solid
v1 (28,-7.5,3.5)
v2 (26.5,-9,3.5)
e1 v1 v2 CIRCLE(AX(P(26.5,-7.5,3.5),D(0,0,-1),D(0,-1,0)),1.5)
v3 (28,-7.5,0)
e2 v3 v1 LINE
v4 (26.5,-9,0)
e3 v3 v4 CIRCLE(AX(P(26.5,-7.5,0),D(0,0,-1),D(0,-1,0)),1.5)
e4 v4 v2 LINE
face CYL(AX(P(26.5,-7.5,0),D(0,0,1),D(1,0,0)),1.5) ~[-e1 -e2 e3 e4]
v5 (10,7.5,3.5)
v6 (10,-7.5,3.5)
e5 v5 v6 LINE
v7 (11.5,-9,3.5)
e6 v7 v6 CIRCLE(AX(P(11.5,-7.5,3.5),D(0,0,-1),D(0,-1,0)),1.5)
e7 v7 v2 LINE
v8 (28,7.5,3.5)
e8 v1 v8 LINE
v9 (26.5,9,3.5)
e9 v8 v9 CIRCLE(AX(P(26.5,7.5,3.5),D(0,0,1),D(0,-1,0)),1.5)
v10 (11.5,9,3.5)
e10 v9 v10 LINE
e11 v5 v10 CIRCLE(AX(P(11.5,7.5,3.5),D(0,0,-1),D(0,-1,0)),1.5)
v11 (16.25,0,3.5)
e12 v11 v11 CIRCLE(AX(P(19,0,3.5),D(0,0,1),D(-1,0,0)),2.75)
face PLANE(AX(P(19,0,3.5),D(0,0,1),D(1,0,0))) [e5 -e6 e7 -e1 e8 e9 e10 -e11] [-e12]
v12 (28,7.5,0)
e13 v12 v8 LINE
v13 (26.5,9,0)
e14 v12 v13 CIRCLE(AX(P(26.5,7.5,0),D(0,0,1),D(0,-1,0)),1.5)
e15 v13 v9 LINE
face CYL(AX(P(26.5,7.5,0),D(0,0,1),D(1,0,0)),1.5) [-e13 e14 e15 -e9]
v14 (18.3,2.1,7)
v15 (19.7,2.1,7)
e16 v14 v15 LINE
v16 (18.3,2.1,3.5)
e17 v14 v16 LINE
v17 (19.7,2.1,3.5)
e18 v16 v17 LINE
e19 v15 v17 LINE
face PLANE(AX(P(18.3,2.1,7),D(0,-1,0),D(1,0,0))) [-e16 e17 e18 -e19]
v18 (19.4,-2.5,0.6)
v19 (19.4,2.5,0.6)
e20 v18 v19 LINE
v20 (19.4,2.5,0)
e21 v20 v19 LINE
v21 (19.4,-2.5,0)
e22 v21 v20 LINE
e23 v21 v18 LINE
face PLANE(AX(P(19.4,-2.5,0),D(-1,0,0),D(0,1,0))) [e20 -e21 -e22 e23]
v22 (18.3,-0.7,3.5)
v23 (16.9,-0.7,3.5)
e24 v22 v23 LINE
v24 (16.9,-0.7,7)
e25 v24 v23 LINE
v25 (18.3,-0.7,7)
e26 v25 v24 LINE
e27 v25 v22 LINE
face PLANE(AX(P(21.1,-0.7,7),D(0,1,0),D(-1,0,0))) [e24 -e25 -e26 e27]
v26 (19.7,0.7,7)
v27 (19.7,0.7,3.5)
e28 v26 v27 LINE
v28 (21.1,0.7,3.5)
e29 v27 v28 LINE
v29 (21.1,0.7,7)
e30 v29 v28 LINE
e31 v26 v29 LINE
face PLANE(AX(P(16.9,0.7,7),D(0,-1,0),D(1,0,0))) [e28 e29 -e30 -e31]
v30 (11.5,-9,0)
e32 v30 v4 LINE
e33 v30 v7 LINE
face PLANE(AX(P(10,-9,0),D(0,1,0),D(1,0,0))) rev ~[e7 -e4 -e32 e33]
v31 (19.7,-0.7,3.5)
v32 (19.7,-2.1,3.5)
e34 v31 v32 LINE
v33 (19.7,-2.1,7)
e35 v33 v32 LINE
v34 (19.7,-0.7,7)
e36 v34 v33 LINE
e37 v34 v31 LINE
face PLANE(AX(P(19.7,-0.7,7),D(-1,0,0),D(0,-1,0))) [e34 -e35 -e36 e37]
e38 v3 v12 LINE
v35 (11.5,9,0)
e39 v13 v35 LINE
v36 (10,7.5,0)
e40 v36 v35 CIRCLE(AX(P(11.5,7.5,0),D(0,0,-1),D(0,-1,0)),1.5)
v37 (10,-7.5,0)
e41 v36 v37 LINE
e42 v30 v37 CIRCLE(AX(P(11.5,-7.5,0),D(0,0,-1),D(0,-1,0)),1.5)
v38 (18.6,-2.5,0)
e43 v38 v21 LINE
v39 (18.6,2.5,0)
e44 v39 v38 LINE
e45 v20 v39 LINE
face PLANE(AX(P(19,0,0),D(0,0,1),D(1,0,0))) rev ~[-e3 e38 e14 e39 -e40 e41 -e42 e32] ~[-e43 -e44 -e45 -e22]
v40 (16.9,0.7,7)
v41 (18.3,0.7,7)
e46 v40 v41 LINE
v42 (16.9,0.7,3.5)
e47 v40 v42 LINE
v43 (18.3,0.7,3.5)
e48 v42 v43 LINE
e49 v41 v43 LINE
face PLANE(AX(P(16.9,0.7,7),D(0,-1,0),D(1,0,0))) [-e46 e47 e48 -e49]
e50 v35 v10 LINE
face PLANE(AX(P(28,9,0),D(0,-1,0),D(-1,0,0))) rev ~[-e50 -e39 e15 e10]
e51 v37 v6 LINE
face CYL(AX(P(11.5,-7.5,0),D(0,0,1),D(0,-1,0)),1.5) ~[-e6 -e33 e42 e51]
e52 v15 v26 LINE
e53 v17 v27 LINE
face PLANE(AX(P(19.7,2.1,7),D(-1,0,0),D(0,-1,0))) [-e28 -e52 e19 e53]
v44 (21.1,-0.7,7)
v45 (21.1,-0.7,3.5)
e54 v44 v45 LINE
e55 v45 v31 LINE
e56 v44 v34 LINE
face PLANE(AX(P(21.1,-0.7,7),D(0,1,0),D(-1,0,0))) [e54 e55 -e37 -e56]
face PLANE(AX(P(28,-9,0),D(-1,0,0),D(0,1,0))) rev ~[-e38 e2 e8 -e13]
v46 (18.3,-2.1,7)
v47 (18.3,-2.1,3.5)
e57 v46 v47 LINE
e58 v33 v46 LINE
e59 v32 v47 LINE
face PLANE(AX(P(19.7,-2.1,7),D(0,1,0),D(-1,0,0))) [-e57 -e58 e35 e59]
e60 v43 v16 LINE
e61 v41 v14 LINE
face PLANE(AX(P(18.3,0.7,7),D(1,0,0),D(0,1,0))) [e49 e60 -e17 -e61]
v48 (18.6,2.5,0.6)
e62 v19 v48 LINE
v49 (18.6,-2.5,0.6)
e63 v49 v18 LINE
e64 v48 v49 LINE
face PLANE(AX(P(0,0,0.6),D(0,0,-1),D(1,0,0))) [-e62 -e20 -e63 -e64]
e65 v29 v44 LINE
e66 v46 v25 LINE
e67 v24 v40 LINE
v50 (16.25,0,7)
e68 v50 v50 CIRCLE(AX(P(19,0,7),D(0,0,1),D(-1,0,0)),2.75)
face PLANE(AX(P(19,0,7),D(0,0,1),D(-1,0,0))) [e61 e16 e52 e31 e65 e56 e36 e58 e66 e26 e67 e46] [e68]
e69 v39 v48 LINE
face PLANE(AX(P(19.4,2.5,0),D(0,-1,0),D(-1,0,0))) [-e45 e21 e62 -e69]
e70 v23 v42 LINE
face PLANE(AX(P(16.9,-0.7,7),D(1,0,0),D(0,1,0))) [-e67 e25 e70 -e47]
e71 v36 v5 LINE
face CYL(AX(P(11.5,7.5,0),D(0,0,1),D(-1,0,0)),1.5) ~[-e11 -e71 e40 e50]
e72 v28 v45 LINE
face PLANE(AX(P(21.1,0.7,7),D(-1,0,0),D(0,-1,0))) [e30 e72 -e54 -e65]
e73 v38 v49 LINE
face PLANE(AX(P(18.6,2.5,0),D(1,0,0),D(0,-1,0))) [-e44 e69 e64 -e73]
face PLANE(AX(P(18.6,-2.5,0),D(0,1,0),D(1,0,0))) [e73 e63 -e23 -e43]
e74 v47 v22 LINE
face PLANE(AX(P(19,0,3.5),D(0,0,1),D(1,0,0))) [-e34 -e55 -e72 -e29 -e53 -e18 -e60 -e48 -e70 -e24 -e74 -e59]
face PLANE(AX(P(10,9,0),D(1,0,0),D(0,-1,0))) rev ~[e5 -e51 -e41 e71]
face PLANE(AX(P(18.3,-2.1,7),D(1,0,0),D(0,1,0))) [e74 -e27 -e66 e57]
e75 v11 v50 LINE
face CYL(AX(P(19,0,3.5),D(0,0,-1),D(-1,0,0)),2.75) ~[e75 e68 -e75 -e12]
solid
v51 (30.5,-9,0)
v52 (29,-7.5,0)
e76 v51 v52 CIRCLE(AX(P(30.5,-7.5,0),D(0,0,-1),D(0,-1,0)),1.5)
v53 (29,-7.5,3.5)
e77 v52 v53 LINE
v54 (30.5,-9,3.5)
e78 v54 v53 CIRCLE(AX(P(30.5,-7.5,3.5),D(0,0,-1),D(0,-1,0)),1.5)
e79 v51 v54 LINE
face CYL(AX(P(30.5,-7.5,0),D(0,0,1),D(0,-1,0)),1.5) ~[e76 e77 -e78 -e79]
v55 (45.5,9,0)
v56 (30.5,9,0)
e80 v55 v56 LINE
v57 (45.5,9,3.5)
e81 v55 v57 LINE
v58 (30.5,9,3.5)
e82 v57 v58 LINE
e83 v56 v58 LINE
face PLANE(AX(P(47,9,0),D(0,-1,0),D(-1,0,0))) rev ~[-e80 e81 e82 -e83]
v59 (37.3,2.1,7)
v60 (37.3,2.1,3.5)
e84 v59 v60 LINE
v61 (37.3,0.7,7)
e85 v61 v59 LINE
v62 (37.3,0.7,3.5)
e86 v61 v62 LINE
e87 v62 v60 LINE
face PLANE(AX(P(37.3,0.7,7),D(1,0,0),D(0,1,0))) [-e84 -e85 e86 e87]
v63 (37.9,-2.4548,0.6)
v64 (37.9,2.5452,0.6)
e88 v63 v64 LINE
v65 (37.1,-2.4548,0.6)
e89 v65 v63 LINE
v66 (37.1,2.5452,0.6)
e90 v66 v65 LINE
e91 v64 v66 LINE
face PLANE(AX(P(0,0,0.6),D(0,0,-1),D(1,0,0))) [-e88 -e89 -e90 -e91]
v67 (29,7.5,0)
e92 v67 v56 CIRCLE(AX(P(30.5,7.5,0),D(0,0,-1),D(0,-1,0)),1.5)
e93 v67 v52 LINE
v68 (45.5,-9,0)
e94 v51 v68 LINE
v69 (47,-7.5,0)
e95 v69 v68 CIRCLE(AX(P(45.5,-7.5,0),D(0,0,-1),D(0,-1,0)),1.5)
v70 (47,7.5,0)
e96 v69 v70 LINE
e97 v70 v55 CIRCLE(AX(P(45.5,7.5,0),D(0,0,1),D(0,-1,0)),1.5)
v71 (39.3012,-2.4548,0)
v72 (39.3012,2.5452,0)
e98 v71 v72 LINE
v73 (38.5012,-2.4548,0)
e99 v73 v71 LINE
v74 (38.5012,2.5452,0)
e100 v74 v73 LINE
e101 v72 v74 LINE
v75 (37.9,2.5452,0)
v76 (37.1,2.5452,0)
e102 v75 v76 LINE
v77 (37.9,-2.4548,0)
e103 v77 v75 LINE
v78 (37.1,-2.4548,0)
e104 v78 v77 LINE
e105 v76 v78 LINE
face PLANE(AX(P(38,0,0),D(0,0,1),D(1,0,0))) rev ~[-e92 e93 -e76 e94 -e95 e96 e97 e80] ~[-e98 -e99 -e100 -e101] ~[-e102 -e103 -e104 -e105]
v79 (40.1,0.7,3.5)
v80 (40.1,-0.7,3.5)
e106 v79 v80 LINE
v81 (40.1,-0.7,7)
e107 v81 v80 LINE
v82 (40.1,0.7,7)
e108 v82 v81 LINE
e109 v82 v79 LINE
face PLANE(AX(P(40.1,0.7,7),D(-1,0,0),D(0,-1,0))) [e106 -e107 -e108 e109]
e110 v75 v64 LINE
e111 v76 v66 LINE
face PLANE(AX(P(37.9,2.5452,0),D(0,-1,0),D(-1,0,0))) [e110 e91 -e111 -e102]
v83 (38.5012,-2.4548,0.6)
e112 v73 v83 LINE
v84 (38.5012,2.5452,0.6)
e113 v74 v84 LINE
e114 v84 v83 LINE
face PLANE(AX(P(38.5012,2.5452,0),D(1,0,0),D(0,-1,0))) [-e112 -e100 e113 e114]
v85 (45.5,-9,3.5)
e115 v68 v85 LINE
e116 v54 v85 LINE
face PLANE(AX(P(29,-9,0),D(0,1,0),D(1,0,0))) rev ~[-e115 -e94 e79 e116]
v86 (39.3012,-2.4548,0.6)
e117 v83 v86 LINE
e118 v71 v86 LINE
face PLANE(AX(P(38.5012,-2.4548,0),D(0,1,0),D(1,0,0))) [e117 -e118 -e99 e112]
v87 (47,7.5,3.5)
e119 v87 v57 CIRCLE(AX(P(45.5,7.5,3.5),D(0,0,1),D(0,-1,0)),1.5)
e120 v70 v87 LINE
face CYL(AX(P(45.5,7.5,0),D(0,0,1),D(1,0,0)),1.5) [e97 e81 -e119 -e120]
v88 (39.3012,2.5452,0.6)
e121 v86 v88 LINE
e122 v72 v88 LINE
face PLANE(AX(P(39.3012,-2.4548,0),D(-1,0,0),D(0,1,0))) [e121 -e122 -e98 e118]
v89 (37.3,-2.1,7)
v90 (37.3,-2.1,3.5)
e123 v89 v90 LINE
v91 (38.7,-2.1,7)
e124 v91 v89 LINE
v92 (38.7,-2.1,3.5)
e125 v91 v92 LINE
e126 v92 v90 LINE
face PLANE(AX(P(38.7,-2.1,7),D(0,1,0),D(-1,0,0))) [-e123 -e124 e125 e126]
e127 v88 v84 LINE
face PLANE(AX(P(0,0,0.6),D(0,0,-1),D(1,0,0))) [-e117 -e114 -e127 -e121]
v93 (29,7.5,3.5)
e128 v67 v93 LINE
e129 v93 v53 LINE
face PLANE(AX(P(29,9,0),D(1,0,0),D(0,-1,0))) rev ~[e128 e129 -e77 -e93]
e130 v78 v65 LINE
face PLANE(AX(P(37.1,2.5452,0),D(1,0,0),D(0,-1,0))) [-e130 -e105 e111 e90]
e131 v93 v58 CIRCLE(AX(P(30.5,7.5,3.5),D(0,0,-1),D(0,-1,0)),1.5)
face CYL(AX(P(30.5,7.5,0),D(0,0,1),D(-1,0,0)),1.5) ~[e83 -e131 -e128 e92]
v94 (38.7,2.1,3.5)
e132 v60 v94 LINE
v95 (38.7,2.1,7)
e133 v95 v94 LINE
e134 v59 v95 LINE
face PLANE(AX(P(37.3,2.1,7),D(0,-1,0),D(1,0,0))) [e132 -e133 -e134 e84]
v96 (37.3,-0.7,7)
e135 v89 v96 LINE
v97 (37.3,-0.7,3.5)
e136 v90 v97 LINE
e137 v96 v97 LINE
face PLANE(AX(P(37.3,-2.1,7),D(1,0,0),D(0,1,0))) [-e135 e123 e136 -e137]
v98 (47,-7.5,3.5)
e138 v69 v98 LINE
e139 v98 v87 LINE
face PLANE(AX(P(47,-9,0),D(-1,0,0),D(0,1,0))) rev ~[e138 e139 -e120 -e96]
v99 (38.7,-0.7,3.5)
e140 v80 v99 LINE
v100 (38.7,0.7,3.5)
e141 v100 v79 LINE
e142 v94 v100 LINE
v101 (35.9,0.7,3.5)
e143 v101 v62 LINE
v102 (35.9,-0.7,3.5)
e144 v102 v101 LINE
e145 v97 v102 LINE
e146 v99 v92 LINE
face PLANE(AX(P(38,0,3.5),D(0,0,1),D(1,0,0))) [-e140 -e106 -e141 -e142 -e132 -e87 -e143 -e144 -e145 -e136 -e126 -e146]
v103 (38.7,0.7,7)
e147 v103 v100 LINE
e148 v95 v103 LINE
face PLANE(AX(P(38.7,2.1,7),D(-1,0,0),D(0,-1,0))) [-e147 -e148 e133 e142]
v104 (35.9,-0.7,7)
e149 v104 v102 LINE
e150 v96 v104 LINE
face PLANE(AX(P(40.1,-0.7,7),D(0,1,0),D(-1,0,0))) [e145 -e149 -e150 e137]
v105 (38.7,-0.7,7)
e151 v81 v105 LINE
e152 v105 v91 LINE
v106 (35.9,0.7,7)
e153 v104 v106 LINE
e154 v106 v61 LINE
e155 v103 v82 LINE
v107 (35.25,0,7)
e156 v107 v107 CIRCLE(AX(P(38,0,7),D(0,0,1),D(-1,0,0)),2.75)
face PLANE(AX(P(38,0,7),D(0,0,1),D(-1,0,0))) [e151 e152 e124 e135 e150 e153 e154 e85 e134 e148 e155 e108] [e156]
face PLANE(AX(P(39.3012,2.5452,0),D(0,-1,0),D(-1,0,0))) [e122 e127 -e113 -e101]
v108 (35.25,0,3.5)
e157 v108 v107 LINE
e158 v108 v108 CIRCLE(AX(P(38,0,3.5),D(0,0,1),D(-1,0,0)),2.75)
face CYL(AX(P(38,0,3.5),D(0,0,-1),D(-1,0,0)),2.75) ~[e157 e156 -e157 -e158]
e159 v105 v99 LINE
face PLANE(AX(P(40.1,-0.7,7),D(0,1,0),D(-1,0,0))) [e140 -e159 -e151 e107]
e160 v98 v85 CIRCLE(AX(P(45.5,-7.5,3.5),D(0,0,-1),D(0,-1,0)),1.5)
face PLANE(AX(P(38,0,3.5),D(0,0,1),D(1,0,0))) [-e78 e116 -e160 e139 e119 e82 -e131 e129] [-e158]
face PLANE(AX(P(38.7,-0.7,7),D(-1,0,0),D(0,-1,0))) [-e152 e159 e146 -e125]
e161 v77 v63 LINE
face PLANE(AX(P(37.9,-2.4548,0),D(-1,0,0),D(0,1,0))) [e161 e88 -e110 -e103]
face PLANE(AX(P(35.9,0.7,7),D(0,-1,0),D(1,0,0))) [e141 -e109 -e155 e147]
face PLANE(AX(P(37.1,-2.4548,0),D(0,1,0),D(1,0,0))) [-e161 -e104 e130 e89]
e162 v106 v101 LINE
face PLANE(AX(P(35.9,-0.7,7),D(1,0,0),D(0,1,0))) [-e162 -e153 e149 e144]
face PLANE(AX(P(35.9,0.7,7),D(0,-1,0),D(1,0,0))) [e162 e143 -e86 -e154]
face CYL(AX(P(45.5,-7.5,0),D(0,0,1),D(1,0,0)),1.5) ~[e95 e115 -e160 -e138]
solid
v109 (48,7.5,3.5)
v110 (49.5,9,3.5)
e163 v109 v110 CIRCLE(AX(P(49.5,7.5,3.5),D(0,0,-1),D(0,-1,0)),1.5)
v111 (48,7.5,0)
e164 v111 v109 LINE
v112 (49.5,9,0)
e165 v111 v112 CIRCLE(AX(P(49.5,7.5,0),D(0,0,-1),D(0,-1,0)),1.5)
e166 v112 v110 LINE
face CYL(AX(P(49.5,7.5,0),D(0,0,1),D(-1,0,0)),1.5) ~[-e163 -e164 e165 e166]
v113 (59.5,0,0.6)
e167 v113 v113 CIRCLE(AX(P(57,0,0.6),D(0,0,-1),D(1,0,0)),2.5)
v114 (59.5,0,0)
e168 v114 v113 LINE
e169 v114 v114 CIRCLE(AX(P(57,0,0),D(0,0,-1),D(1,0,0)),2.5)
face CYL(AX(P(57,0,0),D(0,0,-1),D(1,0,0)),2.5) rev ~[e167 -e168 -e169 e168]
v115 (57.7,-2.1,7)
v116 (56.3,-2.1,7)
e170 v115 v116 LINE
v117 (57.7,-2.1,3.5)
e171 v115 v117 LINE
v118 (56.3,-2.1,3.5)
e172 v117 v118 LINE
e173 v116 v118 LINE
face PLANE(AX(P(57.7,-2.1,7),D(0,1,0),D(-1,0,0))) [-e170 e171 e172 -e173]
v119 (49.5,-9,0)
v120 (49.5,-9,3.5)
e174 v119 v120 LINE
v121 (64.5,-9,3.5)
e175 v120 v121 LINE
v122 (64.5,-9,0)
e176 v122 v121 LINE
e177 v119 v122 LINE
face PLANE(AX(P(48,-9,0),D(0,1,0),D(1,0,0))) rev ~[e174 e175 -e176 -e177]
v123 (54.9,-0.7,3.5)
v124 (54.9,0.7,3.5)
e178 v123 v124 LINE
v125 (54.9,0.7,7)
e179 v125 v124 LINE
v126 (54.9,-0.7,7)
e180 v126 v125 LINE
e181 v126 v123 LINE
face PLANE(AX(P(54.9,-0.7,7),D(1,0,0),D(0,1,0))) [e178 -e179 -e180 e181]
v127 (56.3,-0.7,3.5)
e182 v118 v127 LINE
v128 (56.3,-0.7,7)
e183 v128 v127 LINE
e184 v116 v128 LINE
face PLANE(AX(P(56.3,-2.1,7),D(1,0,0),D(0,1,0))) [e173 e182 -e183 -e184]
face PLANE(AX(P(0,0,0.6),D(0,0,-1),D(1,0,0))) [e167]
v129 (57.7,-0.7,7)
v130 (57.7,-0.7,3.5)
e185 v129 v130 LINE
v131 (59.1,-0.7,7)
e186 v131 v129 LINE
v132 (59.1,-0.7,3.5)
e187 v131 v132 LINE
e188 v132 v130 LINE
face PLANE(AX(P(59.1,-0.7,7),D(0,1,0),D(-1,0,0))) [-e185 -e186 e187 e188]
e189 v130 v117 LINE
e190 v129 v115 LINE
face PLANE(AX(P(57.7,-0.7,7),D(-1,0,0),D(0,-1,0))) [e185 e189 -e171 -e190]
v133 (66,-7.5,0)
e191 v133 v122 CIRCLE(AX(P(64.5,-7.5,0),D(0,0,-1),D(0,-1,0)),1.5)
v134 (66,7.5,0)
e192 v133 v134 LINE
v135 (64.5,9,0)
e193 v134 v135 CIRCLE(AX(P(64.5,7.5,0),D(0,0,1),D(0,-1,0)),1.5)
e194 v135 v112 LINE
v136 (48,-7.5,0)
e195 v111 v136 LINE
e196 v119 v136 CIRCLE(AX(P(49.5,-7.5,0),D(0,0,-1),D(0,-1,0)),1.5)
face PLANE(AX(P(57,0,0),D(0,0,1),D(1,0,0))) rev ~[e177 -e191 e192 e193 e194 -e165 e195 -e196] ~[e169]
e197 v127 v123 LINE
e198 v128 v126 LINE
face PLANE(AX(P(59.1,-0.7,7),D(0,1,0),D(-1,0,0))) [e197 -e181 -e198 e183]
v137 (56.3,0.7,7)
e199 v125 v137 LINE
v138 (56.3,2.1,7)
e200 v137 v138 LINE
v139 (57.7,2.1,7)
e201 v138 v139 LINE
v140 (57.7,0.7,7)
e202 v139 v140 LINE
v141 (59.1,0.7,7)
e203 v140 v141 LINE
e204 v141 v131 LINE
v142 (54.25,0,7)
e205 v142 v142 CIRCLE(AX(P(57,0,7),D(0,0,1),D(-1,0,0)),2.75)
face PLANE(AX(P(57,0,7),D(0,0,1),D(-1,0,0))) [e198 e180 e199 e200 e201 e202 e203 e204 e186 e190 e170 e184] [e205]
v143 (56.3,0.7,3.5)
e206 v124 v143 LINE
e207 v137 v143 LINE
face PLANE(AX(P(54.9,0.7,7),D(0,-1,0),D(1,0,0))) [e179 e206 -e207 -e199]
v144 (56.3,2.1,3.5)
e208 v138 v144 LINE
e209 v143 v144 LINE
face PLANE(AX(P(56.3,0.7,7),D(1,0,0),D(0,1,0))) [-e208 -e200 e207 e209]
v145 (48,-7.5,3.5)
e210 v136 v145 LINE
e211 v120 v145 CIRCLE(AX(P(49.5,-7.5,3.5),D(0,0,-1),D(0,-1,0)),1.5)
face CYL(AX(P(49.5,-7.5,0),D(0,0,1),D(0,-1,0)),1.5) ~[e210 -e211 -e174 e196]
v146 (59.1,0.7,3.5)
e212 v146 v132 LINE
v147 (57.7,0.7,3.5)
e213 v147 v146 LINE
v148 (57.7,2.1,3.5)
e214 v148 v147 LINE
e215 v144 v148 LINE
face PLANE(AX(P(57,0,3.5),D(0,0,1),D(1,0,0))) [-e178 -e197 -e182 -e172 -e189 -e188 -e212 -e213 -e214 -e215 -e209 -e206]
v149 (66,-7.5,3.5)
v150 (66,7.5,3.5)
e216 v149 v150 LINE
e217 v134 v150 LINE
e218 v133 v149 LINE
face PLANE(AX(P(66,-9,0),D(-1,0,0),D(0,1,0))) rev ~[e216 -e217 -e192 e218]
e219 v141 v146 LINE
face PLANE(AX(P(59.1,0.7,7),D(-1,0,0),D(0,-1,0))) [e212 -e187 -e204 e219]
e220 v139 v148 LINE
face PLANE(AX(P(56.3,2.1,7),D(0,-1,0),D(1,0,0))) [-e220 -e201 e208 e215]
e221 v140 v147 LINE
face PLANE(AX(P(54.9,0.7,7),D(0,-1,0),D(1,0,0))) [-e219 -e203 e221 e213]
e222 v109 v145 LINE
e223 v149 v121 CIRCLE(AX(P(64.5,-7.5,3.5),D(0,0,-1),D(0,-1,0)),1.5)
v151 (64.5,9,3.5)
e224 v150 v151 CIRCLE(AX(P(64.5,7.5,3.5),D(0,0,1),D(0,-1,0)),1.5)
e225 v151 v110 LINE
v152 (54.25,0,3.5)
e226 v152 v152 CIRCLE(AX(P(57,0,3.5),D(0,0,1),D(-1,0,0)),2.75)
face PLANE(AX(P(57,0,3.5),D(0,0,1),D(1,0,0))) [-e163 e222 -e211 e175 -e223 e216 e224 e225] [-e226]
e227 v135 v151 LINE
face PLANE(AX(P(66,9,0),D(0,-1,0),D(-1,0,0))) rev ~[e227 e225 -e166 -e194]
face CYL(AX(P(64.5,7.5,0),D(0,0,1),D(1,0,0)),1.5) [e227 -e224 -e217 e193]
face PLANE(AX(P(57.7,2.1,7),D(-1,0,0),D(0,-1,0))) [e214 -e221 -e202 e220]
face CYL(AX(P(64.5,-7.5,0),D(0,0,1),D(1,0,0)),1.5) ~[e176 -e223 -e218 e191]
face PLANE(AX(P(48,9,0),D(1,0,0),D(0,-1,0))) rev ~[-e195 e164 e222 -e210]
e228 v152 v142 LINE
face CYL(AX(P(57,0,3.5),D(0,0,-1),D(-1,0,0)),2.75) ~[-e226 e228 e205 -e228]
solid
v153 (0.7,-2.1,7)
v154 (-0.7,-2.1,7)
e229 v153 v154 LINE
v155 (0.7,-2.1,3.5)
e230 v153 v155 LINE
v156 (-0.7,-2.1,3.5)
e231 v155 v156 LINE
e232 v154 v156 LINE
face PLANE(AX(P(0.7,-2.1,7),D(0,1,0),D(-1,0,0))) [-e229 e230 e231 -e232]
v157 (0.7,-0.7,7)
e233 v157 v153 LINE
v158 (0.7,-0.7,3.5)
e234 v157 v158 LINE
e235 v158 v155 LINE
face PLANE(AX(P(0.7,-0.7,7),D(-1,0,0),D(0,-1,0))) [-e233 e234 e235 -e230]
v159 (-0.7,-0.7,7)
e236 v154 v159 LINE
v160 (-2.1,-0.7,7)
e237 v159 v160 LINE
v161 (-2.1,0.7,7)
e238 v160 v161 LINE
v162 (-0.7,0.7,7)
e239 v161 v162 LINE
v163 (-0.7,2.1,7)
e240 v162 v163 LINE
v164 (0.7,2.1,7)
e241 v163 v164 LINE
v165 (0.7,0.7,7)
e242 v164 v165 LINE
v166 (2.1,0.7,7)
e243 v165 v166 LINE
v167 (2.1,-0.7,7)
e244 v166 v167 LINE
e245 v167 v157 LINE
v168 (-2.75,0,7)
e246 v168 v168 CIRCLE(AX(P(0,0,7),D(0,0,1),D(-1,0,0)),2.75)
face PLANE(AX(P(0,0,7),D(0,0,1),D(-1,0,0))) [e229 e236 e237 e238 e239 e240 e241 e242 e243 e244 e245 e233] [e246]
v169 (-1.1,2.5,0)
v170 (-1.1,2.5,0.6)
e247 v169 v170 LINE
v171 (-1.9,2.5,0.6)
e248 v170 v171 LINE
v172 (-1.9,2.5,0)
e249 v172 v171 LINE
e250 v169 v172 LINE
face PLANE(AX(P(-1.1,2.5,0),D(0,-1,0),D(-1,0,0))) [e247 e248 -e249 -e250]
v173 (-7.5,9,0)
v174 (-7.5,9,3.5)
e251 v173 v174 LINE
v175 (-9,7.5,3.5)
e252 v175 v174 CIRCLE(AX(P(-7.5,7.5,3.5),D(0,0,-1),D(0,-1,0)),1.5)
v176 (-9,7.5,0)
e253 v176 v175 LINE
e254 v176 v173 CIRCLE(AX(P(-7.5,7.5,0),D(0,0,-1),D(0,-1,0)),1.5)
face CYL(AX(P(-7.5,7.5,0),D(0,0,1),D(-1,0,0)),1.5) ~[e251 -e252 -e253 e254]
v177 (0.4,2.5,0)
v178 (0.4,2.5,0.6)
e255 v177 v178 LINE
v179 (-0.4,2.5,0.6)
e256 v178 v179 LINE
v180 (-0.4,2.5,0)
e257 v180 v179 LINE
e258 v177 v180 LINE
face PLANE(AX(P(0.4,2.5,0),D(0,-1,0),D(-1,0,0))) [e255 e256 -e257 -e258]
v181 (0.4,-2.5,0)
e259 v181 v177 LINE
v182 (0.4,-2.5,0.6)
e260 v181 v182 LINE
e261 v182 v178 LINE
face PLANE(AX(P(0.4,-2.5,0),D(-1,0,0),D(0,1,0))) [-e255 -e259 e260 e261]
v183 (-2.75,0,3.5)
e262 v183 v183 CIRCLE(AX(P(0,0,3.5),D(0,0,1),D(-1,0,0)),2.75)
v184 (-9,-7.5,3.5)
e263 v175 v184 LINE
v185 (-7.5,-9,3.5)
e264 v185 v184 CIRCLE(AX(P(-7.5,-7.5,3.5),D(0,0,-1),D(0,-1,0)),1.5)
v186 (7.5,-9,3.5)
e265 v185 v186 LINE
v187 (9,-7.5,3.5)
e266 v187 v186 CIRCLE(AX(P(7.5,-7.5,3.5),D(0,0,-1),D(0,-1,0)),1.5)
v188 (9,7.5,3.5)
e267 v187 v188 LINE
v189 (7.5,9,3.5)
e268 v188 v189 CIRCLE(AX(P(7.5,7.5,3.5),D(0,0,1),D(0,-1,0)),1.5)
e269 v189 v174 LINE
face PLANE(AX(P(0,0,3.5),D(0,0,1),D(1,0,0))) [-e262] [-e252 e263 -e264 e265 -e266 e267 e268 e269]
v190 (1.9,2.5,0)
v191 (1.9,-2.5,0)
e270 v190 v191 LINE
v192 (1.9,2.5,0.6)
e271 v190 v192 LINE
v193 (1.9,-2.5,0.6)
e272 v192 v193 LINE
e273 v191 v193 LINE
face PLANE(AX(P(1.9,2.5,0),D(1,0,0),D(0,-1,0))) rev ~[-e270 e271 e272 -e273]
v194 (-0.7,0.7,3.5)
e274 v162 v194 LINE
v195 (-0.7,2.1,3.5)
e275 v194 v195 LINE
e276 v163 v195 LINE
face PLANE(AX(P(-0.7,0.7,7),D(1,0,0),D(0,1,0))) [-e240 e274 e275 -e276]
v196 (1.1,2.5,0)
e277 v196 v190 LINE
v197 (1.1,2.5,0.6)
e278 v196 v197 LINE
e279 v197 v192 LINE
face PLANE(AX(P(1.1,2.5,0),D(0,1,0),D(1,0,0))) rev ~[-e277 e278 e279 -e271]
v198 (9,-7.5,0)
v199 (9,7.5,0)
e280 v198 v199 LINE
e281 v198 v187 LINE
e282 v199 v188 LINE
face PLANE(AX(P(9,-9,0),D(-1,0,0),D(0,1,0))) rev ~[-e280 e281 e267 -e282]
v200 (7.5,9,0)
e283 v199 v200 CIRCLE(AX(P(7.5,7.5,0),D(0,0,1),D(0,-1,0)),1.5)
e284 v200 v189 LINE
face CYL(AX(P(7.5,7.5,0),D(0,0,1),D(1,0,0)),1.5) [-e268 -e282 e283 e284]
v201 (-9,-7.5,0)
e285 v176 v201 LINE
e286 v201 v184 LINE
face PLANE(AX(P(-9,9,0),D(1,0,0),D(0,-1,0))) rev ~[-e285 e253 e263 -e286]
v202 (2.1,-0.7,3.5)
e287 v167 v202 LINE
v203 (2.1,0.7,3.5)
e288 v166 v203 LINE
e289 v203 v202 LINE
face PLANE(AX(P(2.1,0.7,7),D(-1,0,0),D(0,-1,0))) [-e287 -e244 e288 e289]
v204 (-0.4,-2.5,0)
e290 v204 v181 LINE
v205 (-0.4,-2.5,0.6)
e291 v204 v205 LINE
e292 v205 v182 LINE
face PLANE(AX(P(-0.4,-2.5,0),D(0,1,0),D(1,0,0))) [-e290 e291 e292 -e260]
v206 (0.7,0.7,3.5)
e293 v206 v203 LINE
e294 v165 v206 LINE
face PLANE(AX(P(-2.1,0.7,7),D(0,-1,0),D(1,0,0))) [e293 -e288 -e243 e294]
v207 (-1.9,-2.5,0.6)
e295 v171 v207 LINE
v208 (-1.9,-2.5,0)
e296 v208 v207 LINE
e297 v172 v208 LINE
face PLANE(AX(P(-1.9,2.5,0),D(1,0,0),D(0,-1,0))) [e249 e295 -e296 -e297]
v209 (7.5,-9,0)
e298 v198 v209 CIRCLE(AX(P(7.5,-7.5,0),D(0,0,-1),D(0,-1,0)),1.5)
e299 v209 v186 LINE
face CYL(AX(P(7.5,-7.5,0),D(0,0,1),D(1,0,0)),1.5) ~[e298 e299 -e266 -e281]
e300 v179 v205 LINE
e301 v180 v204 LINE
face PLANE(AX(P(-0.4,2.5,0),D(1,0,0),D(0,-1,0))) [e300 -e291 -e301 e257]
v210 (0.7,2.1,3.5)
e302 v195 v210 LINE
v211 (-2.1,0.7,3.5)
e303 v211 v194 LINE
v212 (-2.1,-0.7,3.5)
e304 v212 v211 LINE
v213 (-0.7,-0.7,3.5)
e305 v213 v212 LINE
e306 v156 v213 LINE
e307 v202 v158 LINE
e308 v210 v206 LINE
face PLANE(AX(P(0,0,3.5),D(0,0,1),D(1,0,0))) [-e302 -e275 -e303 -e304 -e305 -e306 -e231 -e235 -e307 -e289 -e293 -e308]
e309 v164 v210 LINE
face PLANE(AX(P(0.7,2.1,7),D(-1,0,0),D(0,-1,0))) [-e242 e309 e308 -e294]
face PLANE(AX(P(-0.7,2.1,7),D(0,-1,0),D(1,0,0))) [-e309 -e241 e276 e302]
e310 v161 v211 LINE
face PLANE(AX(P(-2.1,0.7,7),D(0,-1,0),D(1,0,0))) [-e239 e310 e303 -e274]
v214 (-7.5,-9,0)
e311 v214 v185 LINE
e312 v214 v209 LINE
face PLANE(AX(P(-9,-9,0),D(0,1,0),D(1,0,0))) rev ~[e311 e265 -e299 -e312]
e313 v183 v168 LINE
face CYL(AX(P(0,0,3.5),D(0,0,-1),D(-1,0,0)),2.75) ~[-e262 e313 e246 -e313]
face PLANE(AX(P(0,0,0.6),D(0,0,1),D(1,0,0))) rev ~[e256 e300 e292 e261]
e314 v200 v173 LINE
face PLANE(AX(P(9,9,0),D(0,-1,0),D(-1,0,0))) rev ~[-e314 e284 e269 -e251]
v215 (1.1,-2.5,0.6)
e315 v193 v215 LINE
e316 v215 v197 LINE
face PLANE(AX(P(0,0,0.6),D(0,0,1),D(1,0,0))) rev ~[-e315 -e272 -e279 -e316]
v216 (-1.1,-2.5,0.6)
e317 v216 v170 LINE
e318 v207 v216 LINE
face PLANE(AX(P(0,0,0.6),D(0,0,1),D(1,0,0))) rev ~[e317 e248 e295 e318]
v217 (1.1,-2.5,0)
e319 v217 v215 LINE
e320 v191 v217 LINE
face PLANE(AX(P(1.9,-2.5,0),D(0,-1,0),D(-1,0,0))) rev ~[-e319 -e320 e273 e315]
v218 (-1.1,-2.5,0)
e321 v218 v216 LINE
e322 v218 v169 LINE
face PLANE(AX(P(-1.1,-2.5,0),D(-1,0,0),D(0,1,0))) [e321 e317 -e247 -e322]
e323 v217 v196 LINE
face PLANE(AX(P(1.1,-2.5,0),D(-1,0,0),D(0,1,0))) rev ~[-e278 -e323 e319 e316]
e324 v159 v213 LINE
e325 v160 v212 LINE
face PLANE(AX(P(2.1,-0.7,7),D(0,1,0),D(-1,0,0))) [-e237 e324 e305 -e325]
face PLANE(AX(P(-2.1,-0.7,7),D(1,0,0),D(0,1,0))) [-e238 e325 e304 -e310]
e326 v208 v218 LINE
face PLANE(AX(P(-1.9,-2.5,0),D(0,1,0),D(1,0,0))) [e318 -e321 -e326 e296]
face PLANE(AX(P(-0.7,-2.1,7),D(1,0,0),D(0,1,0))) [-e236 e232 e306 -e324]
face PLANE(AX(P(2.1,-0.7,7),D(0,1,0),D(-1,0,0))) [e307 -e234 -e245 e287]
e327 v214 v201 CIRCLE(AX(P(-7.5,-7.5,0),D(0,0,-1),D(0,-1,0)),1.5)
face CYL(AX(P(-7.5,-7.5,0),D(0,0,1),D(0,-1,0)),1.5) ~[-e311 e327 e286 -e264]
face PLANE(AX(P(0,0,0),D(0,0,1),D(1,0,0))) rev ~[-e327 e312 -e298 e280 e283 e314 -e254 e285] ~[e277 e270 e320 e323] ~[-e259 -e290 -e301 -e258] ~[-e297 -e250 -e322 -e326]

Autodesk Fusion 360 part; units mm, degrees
sketch "Esquisse14" plane through (0, 0, 0) normal (0, 0, 1) x (1, 0, 0)
  line L0 (9, 9) -> (-9, 9)
  line L1 (-9, 9) -> (-9, -9)
  line L2 (-9, -9) -> (9, -9)
  line L3 (9, -9) -> (9, 9)
  line L4 (9, 9) -> (-9, -9) construction
  line L5 (-9, 9) -> (9, -9) construction
  dimension "d78" = 18
  dimension "d79" = 18
extrude "Extrusion14" add sketch "Esquisse14" along normal blind 3.5 makes body 1
fillet "Congé9" radius 1.5 4 edges at (-9, -9, 1.75) (9, -9, 1.75) (9, 9, 1.75) (-9, 9, 1.75) on bodies 1
sketch "Esquisse15" plane through (0, 0, 3.5) normal (0, 0, 1) x (-1, 0, 0)
  arc A0 (7.5, -9) -> (9, -7.5) centre (7.5, -7.5) ccw
  line L0 (9, -7.5) -> (9, 7.5)
  arc A1 (9, 7.5) -> (7.5, 9) centre (7.5, 7.5) ccw
  line L1 (7.5, 9) -> (-7.5, 9)
  arc A2 (-7.5, 9) -> (-9, 7.5) centre (-7.5, 7.5) ccw
  line L2 (-9, 7.5) -> (-9, -7.5)
  arc A3 (-9, -7.5) -> (-7.5, -9) centre (-7.5, -7.5) ccw
  line L3 (-7.5, -9) -> (7.5, -9)
  circle A4 centre (0, 0) radius 2.75
  dimension "d84" = 5.5
extrude "Extrusion15" add sketch "Esquisse15" along normal blind 3.5 separate body contours A4 makes body 2
sketch "Esquisse16" plane through (0, 0, 7) normal (0, 0, 1) x (-1, 0, 0)
  circle A0 centre (0, 0) radius 2.75
  line L0 (2.1, -0.7) -> (-2.1, -0.7)
  line L1 (-2.1, -0.7) -> (-2.1, 0.7)
  line L2 (-2.1, 0.7) -> (2.1, 0.7)
  line L3 (2.1, 0.7) -> (2.1, -0.7)
  line L4 (2.1, -0.7) -> (-2.1, 0.7) construction
  line L5 (-2.1, -0.7) -> (2.1, 0.7) construction
  dimension "d87" = 4.2
  dimension "d88" = 1.4
extrude "Extrusion16" cut sketch "Esquisse16" against normal blind 3.5 contours L0 L1 L2 L3 bodies 2
sketch "Esquisse17" plane through (0, 0, 7) normal (0, 0, 1) x (-1, 0, 0)
  line L0 (-2.1, -0.7) -> (-2.1, 0.7)
  line L1 (-2.1, 0.7) -> (2.1, 0.7)
  line L2 (2.1, 0.7) -> (2.1, -0.7)
  line L3 (2.1, -0.7) -> (-2.1, -0.7)
  circle A0 centre (0, 0) radius 2.75
  line L4 (0.7, -2.1) -> (-0.7, -2.1)
  line L5 (-0.7, -2.1) -> (-0.7, 2.1)
  line L6 (-0.7, 2.1) -> (0.7, 2.1)
  line L7 (0.7, 2.1) -> (0.7, -2.1)
  line L8 (0.7, -2.1) -> (-0.7, 2.1) construction
  line L9 (-0.7, -2.1) -> (0.7, 2.1) construction
  dimension "d91" = 1.4
  dimension "d92" = 4.2
extrude "Extrusion17" cut sketch "Esquisse17" against normal blind 3.5 contours L3 L4 L5 L7 | L1 L5 L6 L7 bodies 2
sketch "Esquisse18" plane through (0, 0, 0) normal (0, 0, 1) x (1, 0, 0)
  line L0 (-0.4, -2.5) -> (0.4, -2.5)
  line L1 (0.4, -2.5) -> (0.4, 2.5)
  line L2 (0.4, 2.5) -> (-0.4, 2.5)
  line L3 (-0.4, 2.5) -> (-0.4, -2.5)
  line L4 (-0.4, -2.5) -> (0.4, 2.5) construction
  line L5 (0.4, -2.5) -> (-0.4, 2.5) construction
  dimension "d95" = 0.8
  dimension "d96" = 5
combine "Combiner1" operation add target body 1 tool bodies 2
pattern_linear "Réseau R1" count 4 spacing 19 along (1, 0, 0) of bodies 1 makes body 3 at (16, 2.5, 0) makes body 4 at (35.5, -2, 0) makes body 5 at (60, -2.5, 0)
extrude "Extrusion18" cut sketch "Esquisse18" along normal blind 0.6 bodies 1
sketch "Esquisse19" plane through (0, 0, 0) normal (0, 0, 1) x (1, 0, 0)
  line L0 (-0.4, 2.5) -> (0.4, 2.5)
  line L1 (0.4, 2.5) -> (0.4, -2.5)
  line L2 (0.4, -2.5) -> (-0.4, -2.5)
  line L3 (-0.4, -2.5) -> (-0.4, 2.5)
  line L4 (-0.4, 2.5) -> (0.4, -2.5) construction
  line L5 (0.4, 2.5) -> (-0.4, -2.5) construction
  line L6 (1.1, 2.5) -> (1.9, 2.5)
  line L7 (1.9, 2.5) -> (1.9, -2.5)
  line L8 (1.9, -2.5) -> (1.1, -2.5)
  line L9 (1.1, -2.5) -> (1.1, 2.5)
  line L10 (1.1, 2.5) -> (1.9, -2.5) construction
  line L11 (1.9, 2.5) -> (1.1, -2.5) construction
  point P0 (1.5, 0)
  dimension "d99" = 0.8
  dimension "d100" = 5
  dimension "d101" = 0.8
  dimension "d102" = 5
  dimension "d103" = 1.5
extrude "Extrusion19" cut sketch "Esquisse19" along normal blind 0.6 contours L6 L7 L8 L9 bodies 1
sketch "Esquisse20" plane through (0, 0, 0) normal (0, 0, 1) x (1, 0, 0)
  line L0 (-1.9, -2.5) -> (-1.1, -2.5)
  line L1 (-1.1, -2.5) -> (-1.1, 2.5)
  line L2 (-1.1, 2.5) -> (-1.9, 2.5)
  line L3 (-1.9, 2.5) -> (-1.9, -2.5)
  line L4 (-1.9, -2.5) -> (-1.1, 2.5) construction
  line L5 (-1.1, -2.5) -> (-1.9, 2.5) construction
  point P0 (-1.5, 0)
  dimension "d106" = 5
  dimension "d107" = 0.8
  dimension "d108" = 1.5
extrude "Extrusion20" cut sketch "Esquisse20" along normal blind 0.6 bodies 1
sketch "Esquisse13" plane through (0, 0, 6.5) normal (0, 0, 1) x (-1, 0, 0)
  line L0 (2.1, 0.7) -> (2.1, -0.7)
  line L1 (2.1, -0.7) -> (-2.1, -0.7)
  line L2 (-2.1, -0.7) -> (-2.1, 0.7)
  line L3 (-2.1, 0.7) -> (2.1, 0.7)
  circle A0 centre (0, 0) radius 2.75
  line L4 (-0.7, 2.1) -> (0.7, 2.1)
  line L5 (0.7, 2.1) -> (0.7, -2.1)
  line L6 (0.7, -2.1) -> (-0.7, -2.1)
  line L7 (-0.7, -2.1) -> (-0.7, 2.1)
  line L8 (-0.7, 2.1) -> (0.7, -2.1) construction
  line L9 (0.7, 2.1) -> (-0.7, -2.1) construction
  dimension "d74" = 1.4
  dimension "d75" = 4.2
sketch "Esquisse21" plane through (0, 0, 0) normal (0, 0, -1) x (1, 0, 0)
  arc A0 (10, -7.5) -> (11.5, -9) centre (11.5, -7.5) ccw
  line L0 (11.5, -9) -> (26.5, -9)
  arc A1 (26.5, -9) -> (28, -7.5) centre (26.5, -7.5) ccw
  line L1 (28, -7.5) -> (28, 7.5)
  arc A2 (28, 7.5) -> (26.5, 9) centre (26.5, 7.5) ccw
  line L2 (26.5, 9) -> (11.5, 9)
  arc A3 (11.5, 9) -> (10, 7.5) centre (11.5, 7.5) ccw
  line L3 (10, 7.5) -> (10, -7.5)
  line L4 (19.4, -2.5) -> (18.6, -2.5)
  line L5 (18.6, -2.5) -> (18.6, 2.5)
  line L6 (18.6, 2.5) -> (19.4, 2.5)
  line L7 (19.4, 2.5) -> (19.4, -2.5)
  line L8 (19.4, -2.5) -> (18.6, 2.5) construction
  line L9 (18.6, -2.5) -> (19.4, 2.5) construction
  point P0 (19, 0)
  dimension "d115" = 0.8
  dimension "d116" = 5
extrude "Extrusion21" cut sketch "Esquisse21" against normal blind 0.6 contours L4 L5 L6 L7 bodies 3
sketch "Esquisse22" plane through (0, 0, 0) normal (0, 0, -1) x (1, 0, 0)
  arc A0 (29, -7.5) -> (30.5, -9) centre (30.5, -7.5) ccw
  line L0 (30.5, -9) -> (45.5, -9)
  arc A1 (45.5, -9) -> (47, -7.5) centre (45.5, -7.5) ccw
  line L1 (47, -7.5) -> (47, 7.5)
  arc A2 (47, 7.5) -> (45.5, 9) centre (45.5, 7.5) ccw
  line L2 (45.5, 9) -> (30.5, 9)
  arc A3 (30.5, 9) -> (29, 7.5) centre (30.5, 7.5) ccw
  line L3 (29, 7.5) -> (29, -7.5)
  line L4 (37.9, -2.5452) -> (37.1, -2.5452)
  line L5 (37.1, -2.5452) -> (37.1, 2.4548)
  line L6 (37.1, 2.4548) -> (37.9, 2.4548)
  line L7 (37.9, 2.4548) -> (37.9, -2.5452)
  line L8 (37.9, -2.5452) -> (37.1, 2.4548) construction
  line L9 (37.1, -2.5452) -> (37.9, 2.4548) construction
  point P0 (37.5, -0.0452)
  dimension "d119" = 0.8
  dimension "d120" = 5
extrude "Extrusion22" cut sketch "Esquisse22" against normal blind 0.6 contours L4 L5 L6 L7 bodies 4
sketch "Esquisse23" plane through (0, 0, 0) normal (0, 0, -1) x (1, 0, 0)
  line L0 (37.1, -2.5452) -> (37.1, 2.4548)
  line L1 (37.1, 2.4548) -> (37.9, 2.4548)
  line L2 (37.9, 2.4548) -> (37.9, -2.5452)
  line L3 (37.9, -2.5452) -> (37.1, -2.5452)
  arc A0 (29, -7.5) -> (30.5, -9) centre (30.5, -7.5) ccw
  line L4 (30.5, -9) -> (45.5, -9)
  arc A1 (45.5, -9) -> (47, -7.5) centre (45.5, -7.5) ccw
  line L5 (47, -7.5) -> (47, 7.5)
  arc A2 (47, 7.5) -> (45.5, 9) centre (45.5, 7.5) ccw
  line L6 (45.5, 9) -> (30.5, 9)
  arc A3 (30.5, 9) -> (29, 7.5) centre (30.5, 7.5) ccw
  line L7 (29, 7.5) -> (29, -7.5)
  line L8 (39.3012, -2.5452) -> (38.5012, -2.5452)
  line L9 (38.5012, -2.5452) -> (38.5012, 2.4548)
  line L10 (38.5012, 2.4548) -> (39.3012, 2.4548)
  line L11 (39.3012, 2.4548) -> (39.3012, -2.5452)
  line L12 (39.3012, -2.5452) -> (38.5012, 2.4548) construction
  line L13 (38.5012, -2.5452) -> (39.3012, 2.4548) construction
  point P0 (38.9012, -0.0452)
  dimension "d123" = 5
  dimension "d124" = 0.8
extrude "Extrusion23" cut sketch "Esquisse23" against normal blind 0.6 contours L8 L9 L10 L11 bodies 4
sketch "Esquisse25" plane through (0, 0, 0) normal (0, 0, -1) x (1, 0, 0)
  arc A0 (48, -7.5) -> (49.5, -9) centre (49.5, -7.5) ccw
  line L0 (49.5, -9) -> (64.5, -9)
  arc A1 (64.5, -9) -> (66, -7.5) centre (64.5, -7.5) ccw
  line L1 (66, -7.5) -> (66, 7.5)
  arc A2 (66, 7.5) -> (64.5, 9) centre (64.5, 7.5) ccw
  line L2 (64.5, 9) -> (49.5, 9)
  arc A3 (49.5, 9) -> (48, 7.5) centre (49.5, 7.5) ccw
  line L3 (48, 7.5) -> (48, -7.5)
  circle A4 centre (57, 0) radius 2.5
  dimension "d129" = 5
extrude "Extrusion24" cut sketch "Esquisse25" against normal blind 0.6 contours A4 bodies 5
equation "cote = 35 mm"
equation "largeur = 30 mm"
equation "epaisseur = 4 mm"
equation "p_aiment = 2.2 mm"
equation "d_aimant = 6.2 mm"
